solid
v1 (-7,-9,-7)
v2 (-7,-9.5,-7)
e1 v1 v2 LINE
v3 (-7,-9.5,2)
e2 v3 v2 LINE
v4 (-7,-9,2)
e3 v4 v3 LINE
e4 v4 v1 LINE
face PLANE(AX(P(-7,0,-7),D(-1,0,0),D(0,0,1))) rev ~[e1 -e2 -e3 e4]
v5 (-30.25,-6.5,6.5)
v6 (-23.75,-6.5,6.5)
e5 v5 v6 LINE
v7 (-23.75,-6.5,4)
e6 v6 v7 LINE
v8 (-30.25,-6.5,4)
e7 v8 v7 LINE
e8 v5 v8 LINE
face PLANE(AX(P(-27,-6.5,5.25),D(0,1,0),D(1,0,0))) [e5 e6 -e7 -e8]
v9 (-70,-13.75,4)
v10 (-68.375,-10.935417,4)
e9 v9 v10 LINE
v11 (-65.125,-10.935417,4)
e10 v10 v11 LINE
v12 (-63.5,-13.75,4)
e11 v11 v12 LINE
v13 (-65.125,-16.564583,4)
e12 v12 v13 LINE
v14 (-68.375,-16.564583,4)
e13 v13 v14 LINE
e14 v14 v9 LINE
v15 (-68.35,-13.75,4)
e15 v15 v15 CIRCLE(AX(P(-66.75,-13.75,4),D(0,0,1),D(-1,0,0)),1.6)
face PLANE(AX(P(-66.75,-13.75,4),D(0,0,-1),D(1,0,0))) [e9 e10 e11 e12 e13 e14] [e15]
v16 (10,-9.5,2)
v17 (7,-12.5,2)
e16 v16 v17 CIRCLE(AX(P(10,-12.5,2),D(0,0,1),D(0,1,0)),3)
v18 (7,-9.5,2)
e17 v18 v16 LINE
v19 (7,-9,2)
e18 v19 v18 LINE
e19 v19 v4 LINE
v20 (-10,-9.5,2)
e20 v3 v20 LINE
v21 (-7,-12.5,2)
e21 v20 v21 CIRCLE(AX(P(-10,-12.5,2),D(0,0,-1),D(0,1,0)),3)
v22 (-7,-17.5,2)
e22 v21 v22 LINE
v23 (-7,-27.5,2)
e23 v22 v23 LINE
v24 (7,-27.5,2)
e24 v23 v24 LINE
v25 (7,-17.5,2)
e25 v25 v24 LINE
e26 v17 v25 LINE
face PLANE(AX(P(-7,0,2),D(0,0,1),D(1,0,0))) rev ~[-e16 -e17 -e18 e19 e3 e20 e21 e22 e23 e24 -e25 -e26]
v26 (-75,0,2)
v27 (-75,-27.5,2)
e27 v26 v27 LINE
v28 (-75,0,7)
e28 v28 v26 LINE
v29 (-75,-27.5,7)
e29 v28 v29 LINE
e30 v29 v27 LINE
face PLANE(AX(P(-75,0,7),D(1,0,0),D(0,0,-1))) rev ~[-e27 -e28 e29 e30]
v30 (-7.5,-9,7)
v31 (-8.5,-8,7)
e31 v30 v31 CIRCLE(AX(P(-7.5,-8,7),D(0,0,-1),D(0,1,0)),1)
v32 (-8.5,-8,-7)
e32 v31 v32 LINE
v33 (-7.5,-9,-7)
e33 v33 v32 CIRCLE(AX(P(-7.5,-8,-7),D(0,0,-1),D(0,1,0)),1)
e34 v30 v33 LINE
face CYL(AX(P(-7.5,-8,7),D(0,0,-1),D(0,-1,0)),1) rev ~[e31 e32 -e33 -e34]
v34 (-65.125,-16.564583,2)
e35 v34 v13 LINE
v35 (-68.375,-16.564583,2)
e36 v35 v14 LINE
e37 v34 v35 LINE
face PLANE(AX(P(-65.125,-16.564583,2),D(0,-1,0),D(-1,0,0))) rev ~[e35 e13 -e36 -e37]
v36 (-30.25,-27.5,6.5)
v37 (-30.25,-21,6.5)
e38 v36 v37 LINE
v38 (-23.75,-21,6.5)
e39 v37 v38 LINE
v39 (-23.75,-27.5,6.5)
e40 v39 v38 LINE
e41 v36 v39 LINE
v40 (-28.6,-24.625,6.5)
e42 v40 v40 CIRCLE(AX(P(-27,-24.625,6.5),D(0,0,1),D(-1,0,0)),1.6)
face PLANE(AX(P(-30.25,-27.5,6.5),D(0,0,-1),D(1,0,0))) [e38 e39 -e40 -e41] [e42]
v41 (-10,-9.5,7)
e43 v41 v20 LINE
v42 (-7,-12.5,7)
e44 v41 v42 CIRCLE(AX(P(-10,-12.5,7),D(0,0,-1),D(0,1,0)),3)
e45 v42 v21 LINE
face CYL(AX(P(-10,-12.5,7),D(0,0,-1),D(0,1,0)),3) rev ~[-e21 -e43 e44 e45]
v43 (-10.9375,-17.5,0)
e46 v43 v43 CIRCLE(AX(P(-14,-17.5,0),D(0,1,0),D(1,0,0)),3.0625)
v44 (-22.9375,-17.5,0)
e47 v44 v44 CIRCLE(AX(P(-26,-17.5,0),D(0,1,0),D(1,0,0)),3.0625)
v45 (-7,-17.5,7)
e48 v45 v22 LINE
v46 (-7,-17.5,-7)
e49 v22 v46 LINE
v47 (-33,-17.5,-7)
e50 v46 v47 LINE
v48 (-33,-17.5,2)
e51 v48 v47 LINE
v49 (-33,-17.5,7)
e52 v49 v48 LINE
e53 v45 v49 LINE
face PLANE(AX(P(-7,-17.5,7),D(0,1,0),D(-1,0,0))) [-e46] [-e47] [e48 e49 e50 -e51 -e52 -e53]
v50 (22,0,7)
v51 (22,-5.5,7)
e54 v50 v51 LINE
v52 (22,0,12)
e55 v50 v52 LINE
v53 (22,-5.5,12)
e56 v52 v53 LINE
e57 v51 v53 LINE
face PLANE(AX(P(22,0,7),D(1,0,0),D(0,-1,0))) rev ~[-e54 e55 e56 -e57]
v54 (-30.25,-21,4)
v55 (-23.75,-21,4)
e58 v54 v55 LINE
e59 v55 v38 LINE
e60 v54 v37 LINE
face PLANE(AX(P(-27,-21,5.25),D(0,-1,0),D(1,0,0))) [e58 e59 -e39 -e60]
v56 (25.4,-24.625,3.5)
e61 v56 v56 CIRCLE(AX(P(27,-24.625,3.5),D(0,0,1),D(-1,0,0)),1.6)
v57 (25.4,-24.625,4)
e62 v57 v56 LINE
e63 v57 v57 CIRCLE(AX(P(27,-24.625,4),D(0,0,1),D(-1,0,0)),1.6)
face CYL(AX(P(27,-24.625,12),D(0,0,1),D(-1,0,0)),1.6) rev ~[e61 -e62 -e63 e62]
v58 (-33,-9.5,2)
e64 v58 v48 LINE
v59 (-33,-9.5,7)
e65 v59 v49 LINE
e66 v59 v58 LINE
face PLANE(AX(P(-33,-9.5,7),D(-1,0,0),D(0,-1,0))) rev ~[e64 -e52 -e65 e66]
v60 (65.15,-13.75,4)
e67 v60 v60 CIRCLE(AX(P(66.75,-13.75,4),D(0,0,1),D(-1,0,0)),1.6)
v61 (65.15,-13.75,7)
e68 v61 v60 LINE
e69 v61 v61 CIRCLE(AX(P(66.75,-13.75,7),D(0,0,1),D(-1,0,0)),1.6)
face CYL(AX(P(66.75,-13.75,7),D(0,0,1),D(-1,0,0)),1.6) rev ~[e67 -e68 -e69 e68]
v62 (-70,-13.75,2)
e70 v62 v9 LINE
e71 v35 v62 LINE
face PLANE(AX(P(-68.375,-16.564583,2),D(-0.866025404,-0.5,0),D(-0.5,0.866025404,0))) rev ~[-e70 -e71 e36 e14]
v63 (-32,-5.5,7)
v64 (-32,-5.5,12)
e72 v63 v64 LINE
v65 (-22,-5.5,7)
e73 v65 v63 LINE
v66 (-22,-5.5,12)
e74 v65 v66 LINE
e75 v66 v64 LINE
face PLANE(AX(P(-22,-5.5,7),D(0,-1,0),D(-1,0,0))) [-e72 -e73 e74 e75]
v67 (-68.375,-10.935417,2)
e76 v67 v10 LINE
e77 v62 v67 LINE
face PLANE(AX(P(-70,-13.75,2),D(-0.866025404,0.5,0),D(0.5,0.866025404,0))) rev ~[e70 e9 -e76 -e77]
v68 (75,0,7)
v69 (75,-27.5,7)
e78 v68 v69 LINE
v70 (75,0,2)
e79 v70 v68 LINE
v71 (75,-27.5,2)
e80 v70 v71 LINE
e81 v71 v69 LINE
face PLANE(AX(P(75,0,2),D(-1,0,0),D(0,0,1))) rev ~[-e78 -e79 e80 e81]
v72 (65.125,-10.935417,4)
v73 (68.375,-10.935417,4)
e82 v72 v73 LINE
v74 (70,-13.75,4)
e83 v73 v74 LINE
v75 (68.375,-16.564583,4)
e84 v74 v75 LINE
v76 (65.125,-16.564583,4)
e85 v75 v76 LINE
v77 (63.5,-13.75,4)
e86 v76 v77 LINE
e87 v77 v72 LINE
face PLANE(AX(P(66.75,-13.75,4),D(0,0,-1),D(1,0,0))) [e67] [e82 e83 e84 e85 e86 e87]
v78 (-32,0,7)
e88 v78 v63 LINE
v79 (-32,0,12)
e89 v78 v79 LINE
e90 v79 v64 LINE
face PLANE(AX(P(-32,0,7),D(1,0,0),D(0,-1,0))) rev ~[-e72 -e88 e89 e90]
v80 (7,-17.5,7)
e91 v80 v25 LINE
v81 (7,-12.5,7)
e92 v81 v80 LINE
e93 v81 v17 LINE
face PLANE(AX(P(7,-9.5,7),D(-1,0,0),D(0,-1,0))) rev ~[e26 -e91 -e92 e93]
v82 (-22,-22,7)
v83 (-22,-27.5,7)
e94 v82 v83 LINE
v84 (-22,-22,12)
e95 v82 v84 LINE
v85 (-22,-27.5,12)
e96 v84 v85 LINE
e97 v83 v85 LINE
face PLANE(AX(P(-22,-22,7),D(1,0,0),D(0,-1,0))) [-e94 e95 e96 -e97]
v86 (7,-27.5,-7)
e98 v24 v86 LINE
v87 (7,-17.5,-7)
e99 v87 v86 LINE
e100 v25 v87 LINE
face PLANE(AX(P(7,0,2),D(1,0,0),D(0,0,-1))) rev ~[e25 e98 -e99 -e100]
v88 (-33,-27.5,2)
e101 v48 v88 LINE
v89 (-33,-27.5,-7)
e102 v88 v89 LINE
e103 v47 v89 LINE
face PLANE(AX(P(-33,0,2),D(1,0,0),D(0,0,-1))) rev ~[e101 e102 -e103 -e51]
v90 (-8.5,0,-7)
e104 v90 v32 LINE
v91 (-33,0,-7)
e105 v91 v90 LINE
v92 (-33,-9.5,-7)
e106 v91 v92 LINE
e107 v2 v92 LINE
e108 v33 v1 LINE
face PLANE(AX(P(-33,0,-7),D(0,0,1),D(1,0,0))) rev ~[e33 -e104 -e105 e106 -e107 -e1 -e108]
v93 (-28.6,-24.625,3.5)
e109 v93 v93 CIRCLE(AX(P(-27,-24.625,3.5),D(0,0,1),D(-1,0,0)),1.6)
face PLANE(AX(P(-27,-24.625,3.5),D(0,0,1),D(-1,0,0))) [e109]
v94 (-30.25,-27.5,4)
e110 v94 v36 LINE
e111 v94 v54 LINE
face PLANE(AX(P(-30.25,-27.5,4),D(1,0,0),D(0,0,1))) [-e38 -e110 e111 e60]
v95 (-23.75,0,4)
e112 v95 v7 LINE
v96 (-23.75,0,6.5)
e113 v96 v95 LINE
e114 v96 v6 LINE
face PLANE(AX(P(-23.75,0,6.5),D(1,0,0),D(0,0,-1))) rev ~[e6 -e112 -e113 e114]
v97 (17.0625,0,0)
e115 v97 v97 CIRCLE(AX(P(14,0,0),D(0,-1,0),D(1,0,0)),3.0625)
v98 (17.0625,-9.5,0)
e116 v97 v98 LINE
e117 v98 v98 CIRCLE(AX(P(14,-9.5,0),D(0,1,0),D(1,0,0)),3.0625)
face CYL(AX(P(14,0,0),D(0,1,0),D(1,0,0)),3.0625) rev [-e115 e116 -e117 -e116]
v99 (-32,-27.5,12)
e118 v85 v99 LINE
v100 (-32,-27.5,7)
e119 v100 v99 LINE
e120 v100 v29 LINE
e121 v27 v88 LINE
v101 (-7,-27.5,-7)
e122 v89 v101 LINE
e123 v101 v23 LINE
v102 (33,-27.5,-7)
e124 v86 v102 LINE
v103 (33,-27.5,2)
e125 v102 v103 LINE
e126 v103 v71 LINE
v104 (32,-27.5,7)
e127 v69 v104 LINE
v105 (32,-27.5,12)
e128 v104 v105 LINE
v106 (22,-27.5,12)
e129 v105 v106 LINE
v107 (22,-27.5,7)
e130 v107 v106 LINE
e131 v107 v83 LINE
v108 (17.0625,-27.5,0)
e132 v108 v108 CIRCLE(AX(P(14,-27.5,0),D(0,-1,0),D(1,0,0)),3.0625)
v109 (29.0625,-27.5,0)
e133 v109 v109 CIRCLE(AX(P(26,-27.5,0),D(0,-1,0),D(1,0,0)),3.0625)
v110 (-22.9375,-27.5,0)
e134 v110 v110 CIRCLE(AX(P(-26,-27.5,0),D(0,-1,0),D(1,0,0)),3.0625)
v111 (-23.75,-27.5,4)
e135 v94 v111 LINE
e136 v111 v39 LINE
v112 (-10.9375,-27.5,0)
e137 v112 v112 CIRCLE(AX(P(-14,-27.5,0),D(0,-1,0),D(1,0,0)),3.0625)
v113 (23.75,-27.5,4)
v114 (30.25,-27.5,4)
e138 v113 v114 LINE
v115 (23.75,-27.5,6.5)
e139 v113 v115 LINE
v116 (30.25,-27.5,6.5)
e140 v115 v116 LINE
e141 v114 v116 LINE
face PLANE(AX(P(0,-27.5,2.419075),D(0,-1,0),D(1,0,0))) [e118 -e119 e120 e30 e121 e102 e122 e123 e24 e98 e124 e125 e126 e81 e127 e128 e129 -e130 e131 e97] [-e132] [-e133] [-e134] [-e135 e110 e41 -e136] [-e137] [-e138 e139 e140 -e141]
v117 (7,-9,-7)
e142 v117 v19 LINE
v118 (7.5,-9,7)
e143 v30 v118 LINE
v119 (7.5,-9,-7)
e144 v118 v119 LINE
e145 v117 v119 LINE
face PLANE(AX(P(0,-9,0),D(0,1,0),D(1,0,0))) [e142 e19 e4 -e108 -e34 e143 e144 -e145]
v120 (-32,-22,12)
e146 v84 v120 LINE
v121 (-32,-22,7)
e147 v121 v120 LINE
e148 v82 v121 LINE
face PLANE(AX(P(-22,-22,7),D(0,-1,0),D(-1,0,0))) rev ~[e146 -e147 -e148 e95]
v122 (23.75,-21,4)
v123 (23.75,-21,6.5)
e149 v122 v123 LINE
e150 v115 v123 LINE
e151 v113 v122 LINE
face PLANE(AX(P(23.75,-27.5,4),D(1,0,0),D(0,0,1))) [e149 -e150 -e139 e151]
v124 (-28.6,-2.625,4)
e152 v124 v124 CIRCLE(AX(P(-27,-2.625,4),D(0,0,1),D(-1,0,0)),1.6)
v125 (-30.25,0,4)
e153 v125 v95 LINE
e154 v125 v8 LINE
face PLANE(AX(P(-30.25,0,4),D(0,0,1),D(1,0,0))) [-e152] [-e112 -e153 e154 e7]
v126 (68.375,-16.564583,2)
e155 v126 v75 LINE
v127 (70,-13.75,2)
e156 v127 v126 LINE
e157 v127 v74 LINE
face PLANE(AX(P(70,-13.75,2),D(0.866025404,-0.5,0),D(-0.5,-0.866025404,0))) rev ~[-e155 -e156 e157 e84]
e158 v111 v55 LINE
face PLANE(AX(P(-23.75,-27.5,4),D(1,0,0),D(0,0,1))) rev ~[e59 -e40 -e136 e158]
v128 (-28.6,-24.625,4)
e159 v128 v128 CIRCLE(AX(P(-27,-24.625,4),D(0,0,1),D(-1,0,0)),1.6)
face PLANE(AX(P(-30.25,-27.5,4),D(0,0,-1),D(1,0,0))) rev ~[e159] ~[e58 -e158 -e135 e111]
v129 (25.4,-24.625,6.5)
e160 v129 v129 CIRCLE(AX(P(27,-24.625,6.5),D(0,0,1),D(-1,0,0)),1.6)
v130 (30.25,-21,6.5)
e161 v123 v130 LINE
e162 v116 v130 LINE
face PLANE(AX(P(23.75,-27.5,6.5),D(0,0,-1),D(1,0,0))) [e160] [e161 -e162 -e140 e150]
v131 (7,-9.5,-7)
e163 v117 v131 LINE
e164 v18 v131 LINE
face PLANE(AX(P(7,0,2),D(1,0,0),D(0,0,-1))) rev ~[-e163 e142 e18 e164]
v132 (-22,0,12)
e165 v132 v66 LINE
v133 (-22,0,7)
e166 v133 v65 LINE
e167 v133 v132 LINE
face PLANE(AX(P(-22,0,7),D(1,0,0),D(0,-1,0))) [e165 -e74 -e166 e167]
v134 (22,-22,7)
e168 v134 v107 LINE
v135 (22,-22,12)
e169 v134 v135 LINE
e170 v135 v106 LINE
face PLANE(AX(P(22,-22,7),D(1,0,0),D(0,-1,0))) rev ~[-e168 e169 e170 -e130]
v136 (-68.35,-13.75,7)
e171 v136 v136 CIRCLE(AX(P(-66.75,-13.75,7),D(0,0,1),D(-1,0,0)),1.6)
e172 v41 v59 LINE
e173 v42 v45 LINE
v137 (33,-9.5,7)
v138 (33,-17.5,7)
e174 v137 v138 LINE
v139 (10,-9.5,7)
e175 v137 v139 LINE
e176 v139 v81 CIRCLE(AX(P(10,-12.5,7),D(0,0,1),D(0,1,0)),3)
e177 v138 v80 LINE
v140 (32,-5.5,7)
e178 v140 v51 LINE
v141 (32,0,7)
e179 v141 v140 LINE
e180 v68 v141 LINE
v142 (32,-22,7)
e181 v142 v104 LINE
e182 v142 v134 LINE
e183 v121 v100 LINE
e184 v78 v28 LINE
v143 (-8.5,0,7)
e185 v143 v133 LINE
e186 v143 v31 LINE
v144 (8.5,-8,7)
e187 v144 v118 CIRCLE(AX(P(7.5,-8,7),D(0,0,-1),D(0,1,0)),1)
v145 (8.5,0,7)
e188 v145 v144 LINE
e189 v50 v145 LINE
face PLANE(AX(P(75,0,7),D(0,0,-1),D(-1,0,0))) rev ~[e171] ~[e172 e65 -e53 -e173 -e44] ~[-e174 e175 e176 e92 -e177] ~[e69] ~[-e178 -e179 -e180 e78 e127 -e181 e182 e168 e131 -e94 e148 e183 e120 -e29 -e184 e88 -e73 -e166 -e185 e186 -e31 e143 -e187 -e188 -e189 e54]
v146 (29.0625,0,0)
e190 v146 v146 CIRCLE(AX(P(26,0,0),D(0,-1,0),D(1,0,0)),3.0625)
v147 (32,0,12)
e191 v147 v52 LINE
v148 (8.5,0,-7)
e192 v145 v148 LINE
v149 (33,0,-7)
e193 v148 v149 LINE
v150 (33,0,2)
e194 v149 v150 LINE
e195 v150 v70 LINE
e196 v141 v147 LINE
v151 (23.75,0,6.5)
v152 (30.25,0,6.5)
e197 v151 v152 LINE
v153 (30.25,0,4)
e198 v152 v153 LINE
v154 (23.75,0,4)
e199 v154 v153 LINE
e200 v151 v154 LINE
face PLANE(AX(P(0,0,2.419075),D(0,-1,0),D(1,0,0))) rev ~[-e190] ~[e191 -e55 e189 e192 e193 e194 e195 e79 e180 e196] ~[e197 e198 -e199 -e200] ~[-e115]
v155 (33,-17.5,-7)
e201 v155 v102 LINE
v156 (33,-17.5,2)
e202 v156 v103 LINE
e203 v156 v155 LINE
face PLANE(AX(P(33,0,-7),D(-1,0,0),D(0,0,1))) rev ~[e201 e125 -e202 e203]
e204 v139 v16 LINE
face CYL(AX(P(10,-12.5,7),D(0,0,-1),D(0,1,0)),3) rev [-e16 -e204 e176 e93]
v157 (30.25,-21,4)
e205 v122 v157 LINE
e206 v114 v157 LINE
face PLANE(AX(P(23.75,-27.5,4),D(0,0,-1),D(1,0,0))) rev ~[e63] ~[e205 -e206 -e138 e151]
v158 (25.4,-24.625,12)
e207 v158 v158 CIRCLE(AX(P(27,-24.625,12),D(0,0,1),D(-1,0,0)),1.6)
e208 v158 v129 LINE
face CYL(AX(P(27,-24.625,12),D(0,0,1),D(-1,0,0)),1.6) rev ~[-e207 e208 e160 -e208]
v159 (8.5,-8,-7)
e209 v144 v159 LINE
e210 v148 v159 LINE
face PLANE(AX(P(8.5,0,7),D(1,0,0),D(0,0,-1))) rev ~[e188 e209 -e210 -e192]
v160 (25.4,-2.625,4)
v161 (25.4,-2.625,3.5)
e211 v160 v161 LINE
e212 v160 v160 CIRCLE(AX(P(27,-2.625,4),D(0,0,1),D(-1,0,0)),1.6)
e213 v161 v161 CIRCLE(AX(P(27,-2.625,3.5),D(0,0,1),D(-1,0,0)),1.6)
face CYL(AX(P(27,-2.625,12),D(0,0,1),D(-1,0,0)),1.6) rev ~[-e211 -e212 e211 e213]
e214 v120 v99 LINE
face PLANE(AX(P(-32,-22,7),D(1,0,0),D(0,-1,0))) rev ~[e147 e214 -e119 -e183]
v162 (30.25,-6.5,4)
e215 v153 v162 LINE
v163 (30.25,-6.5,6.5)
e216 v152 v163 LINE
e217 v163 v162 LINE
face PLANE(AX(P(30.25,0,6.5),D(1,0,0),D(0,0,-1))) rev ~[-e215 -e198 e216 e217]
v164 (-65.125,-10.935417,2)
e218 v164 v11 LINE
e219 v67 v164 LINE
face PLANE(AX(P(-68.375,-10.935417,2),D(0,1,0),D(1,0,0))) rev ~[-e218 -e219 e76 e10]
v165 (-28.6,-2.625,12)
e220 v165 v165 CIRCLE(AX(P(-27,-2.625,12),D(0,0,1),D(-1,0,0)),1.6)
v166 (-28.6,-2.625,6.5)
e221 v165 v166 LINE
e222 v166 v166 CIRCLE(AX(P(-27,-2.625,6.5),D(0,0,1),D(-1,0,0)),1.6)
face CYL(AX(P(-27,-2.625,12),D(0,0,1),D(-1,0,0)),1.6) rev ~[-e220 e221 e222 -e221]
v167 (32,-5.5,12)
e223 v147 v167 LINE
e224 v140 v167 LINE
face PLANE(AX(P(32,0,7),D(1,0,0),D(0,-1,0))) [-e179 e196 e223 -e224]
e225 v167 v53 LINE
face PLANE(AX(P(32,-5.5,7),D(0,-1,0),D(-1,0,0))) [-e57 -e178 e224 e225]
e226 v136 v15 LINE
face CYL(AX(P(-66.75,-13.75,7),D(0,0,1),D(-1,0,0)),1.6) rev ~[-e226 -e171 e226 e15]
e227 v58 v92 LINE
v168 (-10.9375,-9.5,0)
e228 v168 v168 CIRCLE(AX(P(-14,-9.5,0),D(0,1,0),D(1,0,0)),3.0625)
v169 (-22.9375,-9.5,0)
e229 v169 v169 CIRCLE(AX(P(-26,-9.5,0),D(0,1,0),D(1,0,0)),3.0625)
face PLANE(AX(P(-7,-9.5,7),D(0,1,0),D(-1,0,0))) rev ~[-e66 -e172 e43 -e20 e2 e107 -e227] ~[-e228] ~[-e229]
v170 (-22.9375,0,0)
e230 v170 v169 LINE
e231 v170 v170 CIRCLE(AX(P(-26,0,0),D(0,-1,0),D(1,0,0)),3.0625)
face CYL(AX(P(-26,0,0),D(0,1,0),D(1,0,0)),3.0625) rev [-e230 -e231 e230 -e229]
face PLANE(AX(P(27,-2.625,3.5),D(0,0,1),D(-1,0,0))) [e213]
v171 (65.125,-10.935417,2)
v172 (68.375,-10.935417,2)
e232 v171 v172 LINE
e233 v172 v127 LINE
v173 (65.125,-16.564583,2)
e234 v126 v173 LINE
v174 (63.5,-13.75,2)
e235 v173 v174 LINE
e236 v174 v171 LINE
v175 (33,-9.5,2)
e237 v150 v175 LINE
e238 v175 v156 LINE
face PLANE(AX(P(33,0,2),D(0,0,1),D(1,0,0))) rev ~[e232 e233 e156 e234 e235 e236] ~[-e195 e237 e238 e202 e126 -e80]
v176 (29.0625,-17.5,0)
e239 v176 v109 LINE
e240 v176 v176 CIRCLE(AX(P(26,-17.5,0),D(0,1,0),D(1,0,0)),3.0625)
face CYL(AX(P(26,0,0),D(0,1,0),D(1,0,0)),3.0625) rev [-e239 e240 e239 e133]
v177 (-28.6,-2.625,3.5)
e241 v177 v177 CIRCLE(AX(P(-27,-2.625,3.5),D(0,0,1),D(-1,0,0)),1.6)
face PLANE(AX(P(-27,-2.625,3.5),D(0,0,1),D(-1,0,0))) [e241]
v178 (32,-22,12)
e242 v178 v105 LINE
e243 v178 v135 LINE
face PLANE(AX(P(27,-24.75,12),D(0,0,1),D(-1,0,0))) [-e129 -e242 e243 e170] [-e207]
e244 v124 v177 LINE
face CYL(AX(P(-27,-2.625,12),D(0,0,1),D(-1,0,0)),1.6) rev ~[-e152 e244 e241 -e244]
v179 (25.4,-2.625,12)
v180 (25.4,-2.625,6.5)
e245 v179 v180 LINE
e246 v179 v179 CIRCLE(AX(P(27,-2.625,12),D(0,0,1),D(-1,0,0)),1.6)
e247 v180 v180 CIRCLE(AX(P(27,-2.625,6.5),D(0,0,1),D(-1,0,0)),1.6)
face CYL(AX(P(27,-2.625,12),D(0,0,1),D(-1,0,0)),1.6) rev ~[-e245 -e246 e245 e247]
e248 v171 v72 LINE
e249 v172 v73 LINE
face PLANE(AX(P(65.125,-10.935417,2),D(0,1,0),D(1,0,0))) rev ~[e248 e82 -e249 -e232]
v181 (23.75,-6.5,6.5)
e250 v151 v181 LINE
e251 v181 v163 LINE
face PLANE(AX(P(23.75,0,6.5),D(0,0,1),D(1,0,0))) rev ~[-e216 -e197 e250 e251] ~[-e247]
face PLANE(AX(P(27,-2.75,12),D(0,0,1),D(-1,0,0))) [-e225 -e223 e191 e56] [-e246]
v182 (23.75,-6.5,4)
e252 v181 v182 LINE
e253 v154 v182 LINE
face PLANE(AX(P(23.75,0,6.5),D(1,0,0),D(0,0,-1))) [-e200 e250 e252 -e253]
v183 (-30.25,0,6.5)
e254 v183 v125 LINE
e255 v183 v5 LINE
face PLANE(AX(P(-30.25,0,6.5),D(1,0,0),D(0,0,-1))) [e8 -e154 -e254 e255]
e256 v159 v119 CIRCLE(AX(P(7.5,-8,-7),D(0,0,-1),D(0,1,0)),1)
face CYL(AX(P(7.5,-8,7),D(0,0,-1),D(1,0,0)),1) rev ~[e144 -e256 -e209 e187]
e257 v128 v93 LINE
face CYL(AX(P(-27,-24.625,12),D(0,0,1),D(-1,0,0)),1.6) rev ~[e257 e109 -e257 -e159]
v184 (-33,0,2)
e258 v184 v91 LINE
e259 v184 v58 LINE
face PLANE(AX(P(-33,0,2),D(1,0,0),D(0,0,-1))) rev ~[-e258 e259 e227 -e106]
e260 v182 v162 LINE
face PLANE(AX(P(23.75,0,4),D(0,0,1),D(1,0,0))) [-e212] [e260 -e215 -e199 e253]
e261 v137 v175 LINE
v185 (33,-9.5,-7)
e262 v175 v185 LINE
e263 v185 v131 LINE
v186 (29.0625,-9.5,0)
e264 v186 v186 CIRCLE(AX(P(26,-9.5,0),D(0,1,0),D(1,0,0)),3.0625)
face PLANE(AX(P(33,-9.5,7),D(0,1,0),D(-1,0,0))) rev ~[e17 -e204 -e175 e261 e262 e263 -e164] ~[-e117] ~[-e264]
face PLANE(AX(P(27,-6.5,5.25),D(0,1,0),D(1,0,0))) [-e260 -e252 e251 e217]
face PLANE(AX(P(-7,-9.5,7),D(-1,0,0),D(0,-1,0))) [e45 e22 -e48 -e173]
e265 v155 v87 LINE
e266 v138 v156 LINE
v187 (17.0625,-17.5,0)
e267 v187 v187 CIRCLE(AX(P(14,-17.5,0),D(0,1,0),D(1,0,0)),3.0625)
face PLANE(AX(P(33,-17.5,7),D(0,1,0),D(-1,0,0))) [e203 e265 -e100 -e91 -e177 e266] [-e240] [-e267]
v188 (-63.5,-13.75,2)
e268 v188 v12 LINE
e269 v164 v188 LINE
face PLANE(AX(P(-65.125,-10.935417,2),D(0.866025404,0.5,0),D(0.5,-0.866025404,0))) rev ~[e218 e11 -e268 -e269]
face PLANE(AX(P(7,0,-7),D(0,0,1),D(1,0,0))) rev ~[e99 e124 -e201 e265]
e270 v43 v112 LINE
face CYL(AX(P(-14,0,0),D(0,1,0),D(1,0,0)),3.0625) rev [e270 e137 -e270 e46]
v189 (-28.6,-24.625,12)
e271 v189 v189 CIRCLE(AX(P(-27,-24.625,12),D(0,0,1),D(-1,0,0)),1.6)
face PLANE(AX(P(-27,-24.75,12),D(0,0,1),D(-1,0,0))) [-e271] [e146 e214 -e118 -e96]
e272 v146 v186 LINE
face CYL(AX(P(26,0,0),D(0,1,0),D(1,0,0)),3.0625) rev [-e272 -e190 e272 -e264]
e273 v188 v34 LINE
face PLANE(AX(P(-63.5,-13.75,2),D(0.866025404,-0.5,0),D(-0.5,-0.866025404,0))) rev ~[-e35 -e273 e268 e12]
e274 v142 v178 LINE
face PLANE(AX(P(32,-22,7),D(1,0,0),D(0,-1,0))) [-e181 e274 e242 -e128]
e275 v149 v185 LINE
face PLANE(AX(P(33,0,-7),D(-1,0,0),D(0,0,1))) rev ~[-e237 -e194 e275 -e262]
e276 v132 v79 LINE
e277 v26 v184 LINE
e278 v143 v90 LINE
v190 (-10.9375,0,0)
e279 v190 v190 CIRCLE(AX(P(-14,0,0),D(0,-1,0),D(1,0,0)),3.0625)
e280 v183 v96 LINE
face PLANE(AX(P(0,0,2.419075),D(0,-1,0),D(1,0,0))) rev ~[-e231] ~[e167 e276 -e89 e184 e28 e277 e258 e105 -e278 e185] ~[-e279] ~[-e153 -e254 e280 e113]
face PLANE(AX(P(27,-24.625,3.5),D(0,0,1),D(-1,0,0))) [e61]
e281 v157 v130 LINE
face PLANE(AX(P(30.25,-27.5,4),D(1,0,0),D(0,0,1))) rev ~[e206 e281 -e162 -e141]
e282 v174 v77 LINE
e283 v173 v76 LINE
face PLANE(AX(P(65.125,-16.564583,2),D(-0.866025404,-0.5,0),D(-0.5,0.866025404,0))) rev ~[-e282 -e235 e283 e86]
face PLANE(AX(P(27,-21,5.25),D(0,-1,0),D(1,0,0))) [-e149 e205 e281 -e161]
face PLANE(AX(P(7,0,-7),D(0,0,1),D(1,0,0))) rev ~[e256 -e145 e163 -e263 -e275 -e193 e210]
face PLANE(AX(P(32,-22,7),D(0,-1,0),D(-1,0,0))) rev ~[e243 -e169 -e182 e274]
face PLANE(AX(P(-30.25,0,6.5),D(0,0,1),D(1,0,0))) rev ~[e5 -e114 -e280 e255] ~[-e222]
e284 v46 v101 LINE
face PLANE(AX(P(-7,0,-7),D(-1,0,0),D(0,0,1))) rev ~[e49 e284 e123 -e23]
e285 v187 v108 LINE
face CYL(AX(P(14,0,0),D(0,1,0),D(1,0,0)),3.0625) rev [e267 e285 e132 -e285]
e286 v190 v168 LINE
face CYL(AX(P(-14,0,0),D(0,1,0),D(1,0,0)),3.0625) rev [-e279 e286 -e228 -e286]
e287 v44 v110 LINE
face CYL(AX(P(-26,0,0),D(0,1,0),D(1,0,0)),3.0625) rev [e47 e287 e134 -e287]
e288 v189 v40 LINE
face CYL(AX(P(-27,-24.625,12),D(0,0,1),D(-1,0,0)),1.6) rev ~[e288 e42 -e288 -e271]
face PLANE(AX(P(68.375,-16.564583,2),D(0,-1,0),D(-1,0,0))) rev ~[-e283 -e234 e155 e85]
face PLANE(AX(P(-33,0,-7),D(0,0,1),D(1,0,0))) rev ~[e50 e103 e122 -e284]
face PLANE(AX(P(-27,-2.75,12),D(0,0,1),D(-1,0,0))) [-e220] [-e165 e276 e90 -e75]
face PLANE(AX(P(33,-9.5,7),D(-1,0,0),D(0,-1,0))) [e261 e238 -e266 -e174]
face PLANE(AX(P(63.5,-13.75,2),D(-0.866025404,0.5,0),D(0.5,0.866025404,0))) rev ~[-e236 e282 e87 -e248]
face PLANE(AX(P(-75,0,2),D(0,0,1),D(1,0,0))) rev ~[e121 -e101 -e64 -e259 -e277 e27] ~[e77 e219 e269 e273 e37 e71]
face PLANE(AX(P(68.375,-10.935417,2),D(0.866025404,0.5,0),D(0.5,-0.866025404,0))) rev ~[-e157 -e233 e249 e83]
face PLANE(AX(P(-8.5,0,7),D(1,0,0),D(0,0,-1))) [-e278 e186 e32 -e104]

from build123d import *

# Parameters (mm, degrees)
SKETCH034_R     = 3.0625
PAD004_DEPTH    = 27.5
SKETCH_R        = 1.6
POCKET_DEPTH    = 5
POCKET021_DEPTH = 2
SKETCH036_W     = 26
SKETCH036_H     = 8
POCKET022_DEPTH = 14
SKETCH037_W     = 10
SKETCH037_H     = 5.5
PAD005_DEPTH    = 5
SKETCH038_R     = 1.6
POCKET023_DEPTH = 8.5
SKETCH039_W     = 6.5
SKETCH039_H     = 2.5
POCKET024_DEPTH = 6.5
SKETCH040_W     = 6.5
SKETCH040_H     = 2.5
POCKET025_DEPTH = 6.5
SKETCH041_W     = 17
SKETCH041_H     = 14
POCKET026_DEPTH = 9
FILLET_R        = 1
FILLET001_R     = 3


with BuildPart() as part:
    # Sketch034 → Pad004 (new body)
    with BuildSketch(Plane.XZ):
        Polygon((33, -7), (33, 2), (75, 2), (75, 7), (-75, 7), (-75, 2), (-33, 2), (-33, -7), (-7, -7), (-7, 2), (7, 2), (7, -7), align=None)
        with Locations((-14, 0)):
            Circle(SKETCH034_R, mode=Mode.SUBTRACT)
        with Locations((14, 0)):
            Circle(SKETCH034_R, mode=Mode.SUBTRACT)
        with Locations((-26, 0)):
            Circle(SKETCH034_R, mode=Mode.SUBTRACT)
        with Locations((26, 0)):
            Circle(SKETCH034_R, mode=Mode.SUBTRACT)
    extrude(amount=PAD004_DEPTH)

    # Sketch (on Face4 of Pad004) → Pocket (cut)
    with BuildSketch(Plane(origin=(0, 0, 7), x_dir=(-1, 0, 0), z_dir=(0, 0, 1))):
        with Locations((-66.75, 13.75)):
            Circle(SKETCH_R)
        with Locations((66.75, 13.75)):
            Circle(SKETCH_R)
    extrude(amount=-POCKET_DEPTH, mode=Mode.SUBTRACT)

    # Sketch035 (on Face3 of Pocket) → Pocket021 (cut)
    with BuildSketch(Plane(origin=(0, 0, 2), x_dir=(1, 0, 0), z_dir=(0, 0, -1))):
        Polygon((-63.5, 13.75), (-65.125, 16.5645825623), (-68.375, 16.5645825623), (-70, 13.75), (-68.375, 10.9354174377), (-65.125, 10.9354174377), align=None)
        Polygon((70, 13.75), (68.375, 16.5645825623), (65.125, 16.5645825623), (63.5, 13.75), (65.125, 10.9354174377), (68.375, 10.9354174377), align=None)
    extrude(amount=-POCKET021_DEPTH, mode=Mode.SUBTRACT)

    # Sketch036 (on Face14 of Pocket021) → Pocket022 (cut)
    with BuildSketch(Plane(origin=(0, 0, 7), x_dir=(-1, 0, 0), z_dir=(0, 0, 1))):
        with Locations((-20, 13.5)):
            Rectangle(SKETCH036_W, SKETCH036_H)
        with Locations((20, 13.5)):
            Rectangle(SKETCH036_W, SKETCH036_H)
    extrude(amount=-POCKET022_DEPTH, mode=Mode.SUBTRACT)

    # Sketch037 (on Face7 of Pocket022) → Pad005 (join)
    with BuildSketch(Plane(origin=(0, 0, 7), x_dir=(-1, 0, 0), z_dir=(0, 0, 1))):
        with Locations((-27, 24.75)):
            Rectangle(SKETCH037_W, SKETCH037_H)
        with Locations((27, 24.75)):
            Rectangle(SKETCH037_W, SKETCH037_H)
        with Locations((-27, 2.75)):
            Rectangle(SKETCH037_W, SKETCH037_H)
        with Locations((27, 2.75)):
            Rectangle(SKETCH037_W, SKETCH037_H)
    extrude(amount=PAD005_DEPTH)

    # Sketch038 (on Face70 of Pad005) → Pocket023 (cut)
    with BuildSketch(Plane(origin=(0, 0, 12), x_dir=(-1, 0, 0), z_dir=(0, 0, 1))):
        with Locations((-27, 24.625)):
            Circle(SKETCH038_R)
        with Locations((-27, 2.625)):
            Circle(SKETCH038_R)
        with Locations((27, 24.625)):
            Circle(SKETCH038_R)
        with Locations((27, 2.625)):
            Circle(SKETCH038_R)
    extrude(amount=-POCKET023_DEPTH, mode=Mode.SUBTRACT)

    # Sketch039 (on Face2 of Pocket023) → Pocket024 (cut)
    with BuildSketch(Plane(origin=(0, 0, 0), x_dir=(1, 0, 0), z_dir=(0, 1, 0))):
        with Locations((-27, -5.25)):
            Rectangle(SKETCH039_W, SKETCH039_H)
        with Locations((27, -5.25)):
            Rectangle(SKETCH039_W, SKETCH039_H)
    extrude(amount=-POCKET024_DEPTH, mode=Mode.SUBTRACT)

    # Sketch040 (on Face31 of Pocket024) → Pocket025 (cut)
    with BuildSketch(Plane.XZ.offset(27.5)):
        with Locations((-27, 5.25)):
            Rectangle(SKETCH040_W, SKETCH040_H)
        with Locations((27, 5.25)):
            Rectangle(SKETCH040_W, SKETCH040_H)
    extrude(amount=-POCKET025_DEPTH, mode=Mode.SUBTRACT)

    # Sketch041 (on Face2 of Pocket025) → Pocket026 (cut)
    with BuildSketch(Plane(origin=(0, 0, 0), x_dir=(1, 0, 0), z_dir=(0, 1, 0))):
        Rectangle(SKETCH041_W, SKETCH041_H)
    extrude(amount=-POCKET026_DEPTH, mode=Mode.SUBTRACT)

    # Fillet
    fillet_edges = [part.edges().sort_by_distance(p)[0] for p in [
        (8.5, -9, 0),
        (-8.5, -9, 0),
    ]]
    fillet(fillet_edges, radius=FILLET_R)

    # Fillet001
    fillet001_edges = [part.edges().sort_by_distance(p)[0] for p in [
        (7, -9.5, 4.5),
        (-7, -9.5, 4.5),
    ]]
    fillet(fillet001_edges, radius=FILLET001_R)


solid = part.part
